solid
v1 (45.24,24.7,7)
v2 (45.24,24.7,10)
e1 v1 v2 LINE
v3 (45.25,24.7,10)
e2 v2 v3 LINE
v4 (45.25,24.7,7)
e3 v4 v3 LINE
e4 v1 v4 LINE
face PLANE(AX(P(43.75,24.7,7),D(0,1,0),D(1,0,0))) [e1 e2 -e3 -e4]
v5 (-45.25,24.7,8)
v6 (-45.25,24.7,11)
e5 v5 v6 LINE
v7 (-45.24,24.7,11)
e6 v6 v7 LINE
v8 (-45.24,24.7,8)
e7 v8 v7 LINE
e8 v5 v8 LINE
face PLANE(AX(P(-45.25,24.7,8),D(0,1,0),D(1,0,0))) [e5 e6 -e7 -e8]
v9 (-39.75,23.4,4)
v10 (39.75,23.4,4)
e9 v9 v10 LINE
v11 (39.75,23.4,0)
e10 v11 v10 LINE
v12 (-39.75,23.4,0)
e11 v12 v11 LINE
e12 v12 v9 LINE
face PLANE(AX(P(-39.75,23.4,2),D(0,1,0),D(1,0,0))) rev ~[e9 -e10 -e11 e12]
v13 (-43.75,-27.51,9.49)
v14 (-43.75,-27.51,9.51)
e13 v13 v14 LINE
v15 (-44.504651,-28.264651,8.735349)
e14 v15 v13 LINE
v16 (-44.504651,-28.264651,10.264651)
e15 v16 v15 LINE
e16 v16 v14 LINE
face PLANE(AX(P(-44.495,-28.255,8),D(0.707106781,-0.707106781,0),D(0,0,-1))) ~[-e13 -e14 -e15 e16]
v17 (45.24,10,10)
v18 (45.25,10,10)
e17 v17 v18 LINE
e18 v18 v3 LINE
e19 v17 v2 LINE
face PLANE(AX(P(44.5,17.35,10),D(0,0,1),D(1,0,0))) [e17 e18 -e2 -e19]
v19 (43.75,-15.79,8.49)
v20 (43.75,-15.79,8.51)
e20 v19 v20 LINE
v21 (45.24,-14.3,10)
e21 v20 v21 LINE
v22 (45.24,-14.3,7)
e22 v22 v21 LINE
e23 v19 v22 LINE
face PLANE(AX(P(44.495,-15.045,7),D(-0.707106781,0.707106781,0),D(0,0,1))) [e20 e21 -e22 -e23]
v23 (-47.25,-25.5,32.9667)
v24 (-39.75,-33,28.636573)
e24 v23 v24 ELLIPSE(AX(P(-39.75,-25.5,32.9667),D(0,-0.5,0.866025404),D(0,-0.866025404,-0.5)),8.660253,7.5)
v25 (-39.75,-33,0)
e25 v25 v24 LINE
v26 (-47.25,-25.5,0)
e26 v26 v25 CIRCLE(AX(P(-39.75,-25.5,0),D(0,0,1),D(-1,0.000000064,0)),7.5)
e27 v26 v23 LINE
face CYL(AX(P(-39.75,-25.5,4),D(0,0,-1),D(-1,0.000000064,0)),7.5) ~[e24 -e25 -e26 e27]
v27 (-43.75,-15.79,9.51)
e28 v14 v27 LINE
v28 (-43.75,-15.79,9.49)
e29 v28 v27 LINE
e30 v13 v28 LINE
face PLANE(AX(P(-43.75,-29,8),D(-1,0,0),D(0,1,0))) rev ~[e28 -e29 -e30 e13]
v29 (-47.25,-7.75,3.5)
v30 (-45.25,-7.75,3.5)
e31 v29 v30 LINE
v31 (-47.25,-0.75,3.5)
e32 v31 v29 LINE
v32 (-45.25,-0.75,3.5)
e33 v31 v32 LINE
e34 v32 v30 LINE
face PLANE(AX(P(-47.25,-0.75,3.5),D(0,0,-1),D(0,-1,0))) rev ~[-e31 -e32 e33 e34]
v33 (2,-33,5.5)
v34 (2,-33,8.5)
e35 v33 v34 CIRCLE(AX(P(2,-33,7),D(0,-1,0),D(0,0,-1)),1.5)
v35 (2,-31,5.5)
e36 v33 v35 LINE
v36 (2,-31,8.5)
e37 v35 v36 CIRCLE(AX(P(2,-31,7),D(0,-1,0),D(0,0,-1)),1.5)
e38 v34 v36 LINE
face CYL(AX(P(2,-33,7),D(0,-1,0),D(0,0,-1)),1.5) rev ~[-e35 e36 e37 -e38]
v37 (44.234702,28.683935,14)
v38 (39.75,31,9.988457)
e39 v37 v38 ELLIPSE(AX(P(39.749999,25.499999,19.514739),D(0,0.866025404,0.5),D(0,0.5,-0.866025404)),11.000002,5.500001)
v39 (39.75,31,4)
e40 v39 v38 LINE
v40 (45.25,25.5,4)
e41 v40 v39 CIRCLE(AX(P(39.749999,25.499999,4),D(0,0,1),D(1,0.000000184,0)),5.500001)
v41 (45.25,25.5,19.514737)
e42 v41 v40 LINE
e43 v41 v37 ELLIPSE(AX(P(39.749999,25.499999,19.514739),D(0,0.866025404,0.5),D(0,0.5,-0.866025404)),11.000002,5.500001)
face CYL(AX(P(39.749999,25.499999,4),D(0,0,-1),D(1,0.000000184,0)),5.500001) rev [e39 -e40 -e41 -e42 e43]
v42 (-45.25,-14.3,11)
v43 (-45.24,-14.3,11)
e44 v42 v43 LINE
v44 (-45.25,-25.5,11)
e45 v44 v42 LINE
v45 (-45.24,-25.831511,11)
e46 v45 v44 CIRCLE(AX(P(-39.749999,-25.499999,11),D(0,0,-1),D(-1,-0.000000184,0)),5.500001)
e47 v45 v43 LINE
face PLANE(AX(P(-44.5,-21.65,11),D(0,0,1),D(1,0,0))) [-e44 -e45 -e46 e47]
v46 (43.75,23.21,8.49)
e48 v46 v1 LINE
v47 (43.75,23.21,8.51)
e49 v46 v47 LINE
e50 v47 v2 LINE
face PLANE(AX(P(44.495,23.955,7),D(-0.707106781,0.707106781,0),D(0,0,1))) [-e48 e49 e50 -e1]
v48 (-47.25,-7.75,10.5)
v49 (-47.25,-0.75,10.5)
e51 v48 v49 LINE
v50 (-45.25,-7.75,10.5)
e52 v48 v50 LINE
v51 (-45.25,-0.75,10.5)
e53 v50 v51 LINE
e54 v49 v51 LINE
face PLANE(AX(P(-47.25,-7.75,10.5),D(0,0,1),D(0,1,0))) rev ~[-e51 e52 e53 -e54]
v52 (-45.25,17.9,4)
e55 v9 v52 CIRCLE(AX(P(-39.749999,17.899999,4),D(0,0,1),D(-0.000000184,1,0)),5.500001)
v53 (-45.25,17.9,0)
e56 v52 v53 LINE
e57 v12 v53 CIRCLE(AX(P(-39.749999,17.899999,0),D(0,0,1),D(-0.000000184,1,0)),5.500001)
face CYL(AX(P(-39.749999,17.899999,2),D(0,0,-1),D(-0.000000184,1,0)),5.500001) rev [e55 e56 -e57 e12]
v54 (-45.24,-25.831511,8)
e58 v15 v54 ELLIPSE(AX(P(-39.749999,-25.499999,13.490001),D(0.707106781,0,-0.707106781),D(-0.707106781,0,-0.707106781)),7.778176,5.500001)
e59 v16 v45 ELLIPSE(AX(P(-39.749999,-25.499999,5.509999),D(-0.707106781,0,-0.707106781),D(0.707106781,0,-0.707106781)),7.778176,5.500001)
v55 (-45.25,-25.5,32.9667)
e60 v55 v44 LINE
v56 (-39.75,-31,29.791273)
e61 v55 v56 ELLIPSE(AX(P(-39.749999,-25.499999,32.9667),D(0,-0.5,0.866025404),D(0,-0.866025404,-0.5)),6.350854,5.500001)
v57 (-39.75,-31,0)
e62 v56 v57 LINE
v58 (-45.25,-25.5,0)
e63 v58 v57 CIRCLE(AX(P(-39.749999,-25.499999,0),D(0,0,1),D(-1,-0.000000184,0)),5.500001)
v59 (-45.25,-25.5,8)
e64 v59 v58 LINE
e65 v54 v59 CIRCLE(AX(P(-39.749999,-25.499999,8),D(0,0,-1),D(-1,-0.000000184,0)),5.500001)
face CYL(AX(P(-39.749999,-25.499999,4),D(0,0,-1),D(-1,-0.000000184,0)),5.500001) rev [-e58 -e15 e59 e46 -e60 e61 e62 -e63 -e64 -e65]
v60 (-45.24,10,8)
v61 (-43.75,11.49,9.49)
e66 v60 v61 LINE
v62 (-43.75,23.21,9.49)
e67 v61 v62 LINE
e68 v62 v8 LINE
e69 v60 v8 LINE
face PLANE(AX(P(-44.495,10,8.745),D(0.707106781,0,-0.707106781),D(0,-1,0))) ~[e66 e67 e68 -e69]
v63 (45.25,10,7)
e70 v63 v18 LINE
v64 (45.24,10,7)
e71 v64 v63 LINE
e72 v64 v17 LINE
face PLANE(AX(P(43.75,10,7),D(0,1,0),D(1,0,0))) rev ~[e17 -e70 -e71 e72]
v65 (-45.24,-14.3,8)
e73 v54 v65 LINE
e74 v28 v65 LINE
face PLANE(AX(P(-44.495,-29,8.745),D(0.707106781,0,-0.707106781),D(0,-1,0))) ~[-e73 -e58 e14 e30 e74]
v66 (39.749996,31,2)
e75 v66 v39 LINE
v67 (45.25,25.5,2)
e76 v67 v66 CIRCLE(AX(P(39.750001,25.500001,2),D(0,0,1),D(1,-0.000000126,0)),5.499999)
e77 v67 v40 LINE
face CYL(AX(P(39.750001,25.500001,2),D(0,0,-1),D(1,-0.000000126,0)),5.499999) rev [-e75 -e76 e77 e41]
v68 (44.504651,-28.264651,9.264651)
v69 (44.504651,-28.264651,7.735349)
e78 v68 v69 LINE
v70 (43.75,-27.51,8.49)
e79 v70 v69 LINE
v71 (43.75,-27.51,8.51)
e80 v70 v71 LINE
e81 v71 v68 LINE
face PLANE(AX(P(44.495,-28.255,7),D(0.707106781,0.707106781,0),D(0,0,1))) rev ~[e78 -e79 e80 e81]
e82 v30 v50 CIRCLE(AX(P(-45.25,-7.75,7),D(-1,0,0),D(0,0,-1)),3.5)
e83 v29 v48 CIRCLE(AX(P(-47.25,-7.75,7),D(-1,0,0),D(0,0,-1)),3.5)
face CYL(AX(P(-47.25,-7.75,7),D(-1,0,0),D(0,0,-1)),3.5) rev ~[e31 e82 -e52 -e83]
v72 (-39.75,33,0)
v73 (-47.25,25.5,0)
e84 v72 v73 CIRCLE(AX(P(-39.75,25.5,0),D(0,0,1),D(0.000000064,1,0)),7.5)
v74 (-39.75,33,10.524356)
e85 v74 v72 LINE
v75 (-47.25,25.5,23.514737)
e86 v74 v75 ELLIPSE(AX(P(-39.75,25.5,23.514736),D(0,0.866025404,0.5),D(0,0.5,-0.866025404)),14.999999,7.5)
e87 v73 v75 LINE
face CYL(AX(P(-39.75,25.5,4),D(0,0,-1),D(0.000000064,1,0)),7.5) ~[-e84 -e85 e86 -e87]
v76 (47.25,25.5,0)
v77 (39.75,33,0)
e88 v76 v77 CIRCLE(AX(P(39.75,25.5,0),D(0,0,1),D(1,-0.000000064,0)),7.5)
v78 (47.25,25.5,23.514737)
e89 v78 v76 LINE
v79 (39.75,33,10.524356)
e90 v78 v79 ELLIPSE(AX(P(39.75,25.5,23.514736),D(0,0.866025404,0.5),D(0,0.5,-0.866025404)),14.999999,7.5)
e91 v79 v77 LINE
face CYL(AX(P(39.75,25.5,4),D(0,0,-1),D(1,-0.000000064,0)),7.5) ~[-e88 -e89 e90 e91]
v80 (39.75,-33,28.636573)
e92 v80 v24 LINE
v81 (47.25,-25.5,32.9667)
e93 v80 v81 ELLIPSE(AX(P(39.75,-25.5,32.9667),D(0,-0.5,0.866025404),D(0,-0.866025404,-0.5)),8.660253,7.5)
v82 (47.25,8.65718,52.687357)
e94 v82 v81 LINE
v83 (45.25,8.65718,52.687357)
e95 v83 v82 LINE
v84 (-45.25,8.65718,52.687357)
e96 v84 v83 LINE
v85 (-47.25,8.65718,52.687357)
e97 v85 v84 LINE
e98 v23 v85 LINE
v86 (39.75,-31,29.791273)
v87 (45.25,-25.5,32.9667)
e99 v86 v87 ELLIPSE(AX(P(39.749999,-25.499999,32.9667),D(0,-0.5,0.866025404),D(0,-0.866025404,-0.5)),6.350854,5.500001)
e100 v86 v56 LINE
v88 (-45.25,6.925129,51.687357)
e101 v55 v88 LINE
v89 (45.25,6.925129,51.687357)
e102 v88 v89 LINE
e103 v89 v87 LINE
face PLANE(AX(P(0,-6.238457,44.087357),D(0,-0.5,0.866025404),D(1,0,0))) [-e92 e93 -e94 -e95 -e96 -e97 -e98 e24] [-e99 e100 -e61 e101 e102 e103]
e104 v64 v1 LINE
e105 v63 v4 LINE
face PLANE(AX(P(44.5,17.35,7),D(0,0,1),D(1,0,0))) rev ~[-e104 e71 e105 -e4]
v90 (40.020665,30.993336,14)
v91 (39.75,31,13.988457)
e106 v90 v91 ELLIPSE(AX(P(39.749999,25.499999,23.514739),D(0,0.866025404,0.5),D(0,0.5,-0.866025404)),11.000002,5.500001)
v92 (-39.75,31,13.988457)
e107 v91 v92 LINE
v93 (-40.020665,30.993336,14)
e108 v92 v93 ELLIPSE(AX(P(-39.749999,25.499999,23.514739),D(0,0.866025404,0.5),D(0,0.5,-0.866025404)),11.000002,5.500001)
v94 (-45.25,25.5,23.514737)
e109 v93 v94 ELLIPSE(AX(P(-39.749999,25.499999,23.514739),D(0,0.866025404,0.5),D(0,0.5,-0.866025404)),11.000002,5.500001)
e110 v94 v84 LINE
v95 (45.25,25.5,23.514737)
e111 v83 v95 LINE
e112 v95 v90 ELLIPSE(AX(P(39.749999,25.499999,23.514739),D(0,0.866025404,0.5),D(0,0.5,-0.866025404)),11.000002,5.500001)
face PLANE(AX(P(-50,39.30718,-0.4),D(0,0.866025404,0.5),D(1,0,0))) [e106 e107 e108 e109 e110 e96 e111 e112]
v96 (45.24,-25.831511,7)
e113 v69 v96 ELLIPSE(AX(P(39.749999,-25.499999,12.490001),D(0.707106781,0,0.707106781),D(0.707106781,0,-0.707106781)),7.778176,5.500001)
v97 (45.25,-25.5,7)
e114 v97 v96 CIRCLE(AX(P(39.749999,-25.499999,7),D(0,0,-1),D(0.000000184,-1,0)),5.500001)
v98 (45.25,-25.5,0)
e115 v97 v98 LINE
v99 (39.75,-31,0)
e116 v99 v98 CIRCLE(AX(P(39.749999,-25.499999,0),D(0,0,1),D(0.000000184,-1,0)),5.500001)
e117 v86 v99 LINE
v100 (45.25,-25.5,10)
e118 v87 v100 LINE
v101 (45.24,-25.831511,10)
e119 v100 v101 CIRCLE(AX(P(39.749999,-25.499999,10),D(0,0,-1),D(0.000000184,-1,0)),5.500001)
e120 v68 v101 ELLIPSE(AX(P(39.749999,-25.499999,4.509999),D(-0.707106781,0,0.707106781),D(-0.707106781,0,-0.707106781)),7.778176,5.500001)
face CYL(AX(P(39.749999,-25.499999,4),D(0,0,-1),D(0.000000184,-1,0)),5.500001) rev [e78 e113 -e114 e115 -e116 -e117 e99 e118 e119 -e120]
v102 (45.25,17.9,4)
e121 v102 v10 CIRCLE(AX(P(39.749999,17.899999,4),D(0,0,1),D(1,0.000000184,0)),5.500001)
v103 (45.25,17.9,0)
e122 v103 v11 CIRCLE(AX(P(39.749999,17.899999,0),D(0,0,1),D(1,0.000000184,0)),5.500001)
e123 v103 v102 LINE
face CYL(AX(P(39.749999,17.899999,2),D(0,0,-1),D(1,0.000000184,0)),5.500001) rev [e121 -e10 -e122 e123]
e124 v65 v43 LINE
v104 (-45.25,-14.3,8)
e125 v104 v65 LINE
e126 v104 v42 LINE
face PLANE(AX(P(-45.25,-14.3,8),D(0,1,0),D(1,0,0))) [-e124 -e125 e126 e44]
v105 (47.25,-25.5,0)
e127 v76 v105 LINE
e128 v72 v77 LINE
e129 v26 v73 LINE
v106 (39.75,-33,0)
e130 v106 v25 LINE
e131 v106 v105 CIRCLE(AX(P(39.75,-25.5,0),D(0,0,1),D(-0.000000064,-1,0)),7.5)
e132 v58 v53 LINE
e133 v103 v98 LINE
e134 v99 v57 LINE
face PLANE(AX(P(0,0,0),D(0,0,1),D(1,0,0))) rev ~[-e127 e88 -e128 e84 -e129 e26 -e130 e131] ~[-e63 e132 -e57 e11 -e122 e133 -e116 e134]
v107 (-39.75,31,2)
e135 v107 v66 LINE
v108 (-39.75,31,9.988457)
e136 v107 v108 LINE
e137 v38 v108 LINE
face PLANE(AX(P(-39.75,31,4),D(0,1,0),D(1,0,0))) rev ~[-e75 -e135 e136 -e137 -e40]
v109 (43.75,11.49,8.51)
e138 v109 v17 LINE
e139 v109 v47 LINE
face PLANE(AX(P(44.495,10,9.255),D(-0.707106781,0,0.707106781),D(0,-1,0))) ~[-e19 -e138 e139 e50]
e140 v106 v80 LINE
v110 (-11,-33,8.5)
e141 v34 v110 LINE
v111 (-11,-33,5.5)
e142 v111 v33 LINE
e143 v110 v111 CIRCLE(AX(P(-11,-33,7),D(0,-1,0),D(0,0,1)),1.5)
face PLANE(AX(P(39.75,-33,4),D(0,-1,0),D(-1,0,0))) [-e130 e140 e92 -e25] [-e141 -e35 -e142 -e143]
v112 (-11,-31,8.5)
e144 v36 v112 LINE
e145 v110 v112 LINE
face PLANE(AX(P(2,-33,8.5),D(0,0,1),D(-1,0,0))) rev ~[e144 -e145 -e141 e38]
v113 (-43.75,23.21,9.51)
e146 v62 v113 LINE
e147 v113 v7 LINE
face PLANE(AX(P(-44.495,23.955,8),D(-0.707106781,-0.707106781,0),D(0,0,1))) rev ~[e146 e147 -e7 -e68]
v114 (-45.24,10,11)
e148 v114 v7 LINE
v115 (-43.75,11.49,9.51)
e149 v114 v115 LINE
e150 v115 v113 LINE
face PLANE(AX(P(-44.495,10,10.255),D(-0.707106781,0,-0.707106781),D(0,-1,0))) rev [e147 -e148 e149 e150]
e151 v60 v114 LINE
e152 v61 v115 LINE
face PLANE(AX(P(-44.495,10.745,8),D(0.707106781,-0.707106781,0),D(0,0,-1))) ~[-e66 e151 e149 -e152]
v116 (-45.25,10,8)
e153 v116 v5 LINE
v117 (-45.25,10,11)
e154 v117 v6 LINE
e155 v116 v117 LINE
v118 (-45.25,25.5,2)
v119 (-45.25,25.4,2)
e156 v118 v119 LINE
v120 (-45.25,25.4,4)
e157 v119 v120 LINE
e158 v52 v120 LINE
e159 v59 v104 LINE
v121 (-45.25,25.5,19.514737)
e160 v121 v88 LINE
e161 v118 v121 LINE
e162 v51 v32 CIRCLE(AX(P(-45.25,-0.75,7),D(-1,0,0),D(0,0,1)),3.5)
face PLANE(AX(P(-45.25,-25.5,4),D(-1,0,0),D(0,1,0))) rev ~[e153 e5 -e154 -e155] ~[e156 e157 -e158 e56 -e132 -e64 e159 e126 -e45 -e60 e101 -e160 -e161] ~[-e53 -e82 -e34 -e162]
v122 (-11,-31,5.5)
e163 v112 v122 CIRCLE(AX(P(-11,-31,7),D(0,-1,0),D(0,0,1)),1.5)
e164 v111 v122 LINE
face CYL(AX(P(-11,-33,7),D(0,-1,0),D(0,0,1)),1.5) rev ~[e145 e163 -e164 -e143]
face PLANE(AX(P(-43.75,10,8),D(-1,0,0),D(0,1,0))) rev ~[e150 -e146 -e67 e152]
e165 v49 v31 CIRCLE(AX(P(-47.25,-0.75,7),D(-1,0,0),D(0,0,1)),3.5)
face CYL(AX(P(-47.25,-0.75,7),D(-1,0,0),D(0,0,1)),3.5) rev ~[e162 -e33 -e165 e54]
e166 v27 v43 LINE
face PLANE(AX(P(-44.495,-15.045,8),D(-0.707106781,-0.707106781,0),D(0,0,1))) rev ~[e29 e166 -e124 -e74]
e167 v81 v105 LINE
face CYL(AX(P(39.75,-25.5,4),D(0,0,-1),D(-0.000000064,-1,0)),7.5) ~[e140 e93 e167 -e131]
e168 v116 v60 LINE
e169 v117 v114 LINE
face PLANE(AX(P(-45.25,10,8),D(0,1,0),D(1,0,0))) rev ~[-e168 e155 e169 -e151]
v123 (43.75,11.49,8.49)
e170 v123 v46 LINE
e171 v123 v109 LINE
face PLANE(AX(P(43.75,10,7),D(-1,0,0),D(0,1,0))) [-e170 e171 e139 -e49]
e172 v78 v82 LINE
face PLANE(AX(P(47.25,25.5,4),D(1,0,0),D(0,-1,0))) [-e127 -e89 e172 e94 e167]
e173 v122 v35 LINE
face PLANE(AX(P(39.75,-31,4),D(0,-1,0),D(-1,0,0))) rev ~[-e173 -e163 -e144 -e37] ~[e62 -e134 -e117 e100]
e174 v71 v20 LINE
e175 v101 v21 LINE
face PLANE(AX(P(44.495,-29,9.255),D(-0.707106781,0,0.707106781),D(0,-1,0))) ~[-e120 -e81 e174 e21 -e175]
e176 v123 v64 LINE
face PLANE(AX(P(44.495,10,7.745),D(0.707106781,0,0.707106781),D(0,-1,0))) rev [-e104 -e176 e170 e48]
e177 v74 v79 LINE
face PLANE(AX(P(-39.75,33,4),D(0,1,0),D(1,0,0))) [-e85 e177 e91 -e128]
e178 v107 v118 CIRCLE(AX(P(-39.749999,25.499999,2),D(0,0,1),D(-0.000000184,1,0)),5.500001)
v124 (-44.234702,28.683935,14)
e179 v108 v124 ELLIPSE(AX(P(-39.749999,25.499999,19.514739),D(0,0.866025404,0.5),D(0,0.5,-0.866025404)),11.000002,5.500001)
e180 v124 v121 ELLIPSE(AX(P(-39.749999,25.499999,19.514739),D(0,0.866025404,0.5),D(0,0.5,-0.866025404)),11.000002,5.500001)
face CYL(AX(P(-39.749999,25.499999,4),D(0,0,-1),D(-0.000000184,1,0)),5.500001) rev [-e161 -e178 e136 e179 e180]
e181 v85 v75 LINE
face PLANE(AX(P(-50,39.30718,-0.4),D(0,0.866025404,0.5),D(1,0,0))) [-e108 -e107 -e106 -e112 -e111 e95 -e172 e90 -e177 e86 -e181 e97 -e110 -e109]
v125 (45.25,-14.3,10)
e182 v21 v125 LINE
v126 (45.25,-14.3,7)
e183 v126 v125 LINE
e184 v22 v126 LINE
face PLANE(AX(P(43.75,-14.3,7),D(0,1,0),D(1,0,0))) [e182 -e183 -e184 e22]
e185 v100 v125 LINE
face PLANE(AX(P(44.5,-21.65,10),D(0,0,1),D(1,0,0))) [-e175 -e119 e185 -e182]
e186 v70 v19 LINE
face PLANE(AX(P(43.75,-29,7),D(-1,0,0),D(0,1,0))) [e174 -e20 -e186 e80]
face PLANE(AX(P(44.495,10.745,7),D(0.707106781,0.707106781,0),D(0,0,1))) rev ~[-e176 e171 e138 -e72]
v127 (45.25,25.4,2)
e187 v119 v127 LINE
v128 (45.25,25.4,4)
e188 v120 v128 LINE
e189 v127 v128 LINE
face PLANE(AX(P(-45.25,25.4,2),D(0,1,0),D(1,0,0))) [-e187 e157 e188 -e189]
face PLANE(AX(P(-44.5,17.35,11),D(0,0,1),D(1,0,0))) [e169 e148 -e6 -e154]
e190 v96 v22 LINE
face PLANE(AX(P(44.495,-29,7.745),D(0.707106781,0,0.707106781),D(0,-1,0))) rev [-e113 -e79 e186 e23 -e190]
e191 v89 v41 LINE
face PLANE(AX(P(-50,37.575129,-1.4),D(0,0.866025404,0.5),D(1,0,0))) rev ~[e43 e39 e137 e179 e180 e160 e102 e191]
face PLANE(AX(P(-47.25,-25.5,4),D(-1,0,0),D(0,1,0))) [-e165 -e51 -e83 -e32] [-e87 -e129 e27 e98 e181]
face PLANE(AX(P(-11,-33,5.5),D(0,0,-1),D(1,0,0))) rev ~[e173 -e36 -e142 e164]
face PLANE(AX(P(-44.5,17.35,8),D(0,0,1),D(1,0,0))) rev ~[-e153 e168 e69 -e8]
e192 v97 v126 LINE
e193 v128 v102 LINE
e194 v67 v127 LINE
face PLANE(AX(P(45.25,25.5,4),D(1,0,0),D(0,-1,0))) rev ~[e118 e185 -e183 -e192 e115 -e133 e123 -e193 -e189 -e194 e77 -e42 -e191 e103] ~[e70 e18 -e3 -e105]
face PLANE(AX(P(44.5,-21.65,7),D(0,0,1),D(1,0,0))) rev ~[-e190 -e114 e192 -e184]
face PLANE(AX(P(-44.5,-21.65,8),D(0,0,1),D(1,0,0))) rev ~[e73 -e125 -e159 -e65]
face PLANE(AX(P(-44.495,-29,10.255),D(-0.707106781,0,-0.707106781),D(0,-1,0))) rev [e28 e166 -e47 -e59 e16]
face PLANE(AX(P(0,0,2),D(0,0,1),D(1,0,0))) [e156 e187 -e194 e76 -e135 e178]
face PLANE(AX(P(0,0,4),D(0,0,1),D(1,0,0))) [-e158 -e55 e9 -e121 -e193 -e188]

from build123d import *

# Parameters (mm, degrees)
BOX004_W               = 1.5
BOX004_H               = 14.7
BOX004_DEPTH           = 3
CHAMFER001_SIZE        = 1.49
BOX005_W               = 1.5
BOX005_H               = 14.7
BOX005_DEPTH           = 3
CHAMFER002_SIZE        = 1.49
BOX006_W               = 1.5
BOX006_H               = 14.7
BOX006_DEPTH           = 3
CHAMFER003_SIZE        = 1.49
EXTRUDE006_DEPTH       = 3
EXTRUDE005_DEPTH       = 3
BOX001_W               = 100
BOX001_H               = 100
BOX001_DEPTH           = 100
BOX001_PLACEMENT_ANGLE = 30
BOX_W                  = 100
BOX_H                  = 100
BOX_DEPTH              = 100
BOX_PLACEMENT_ANGLE    = 30
EXTRUDE_DEPTH          = 2
EXTRUDE001_DEPTH       = 2
EXTRUDE002_DEPTH       = 10
EXTRUDE003_DEPTH       = 52
EXTRUDE004_DEPTH       = 56
BOX002_W               = 100
BOX002_H               = 2
BOX002_DEPTH           = 100
BOX002_PLACEMENT_ANGLE = 30
BOX003_W               = 1.5
BOX003_H               = 14.7
BOX003_DEPTH           = 3
CHAMFER_SIZE           = 1.49


with BuildPart() as chamfer001:
    # Box004 → Box004 (new body)
    with BuildSketch(Plane(origin=(-45.25, -29, 8), x_dir=(1, 0, 0), z_dir=(0, 0, 1))):
        with Locations((0.75, 7.35)):
            Rectangle(BOX004_W, BOX004_H)
    extrude(amount=BOX004_DEPTH)

    # Chamfer001
    chamfer001_edges = [chamfer001.edges().sort_by_distance(p)[0] for p in [
        (-43.75, -29, 9.5),
        (-43.75, -21.65, 11),
        (-43.75, -14.3, 9.5),
        (-43.75, -21.65, 8),
    ]]
    chamfer(chamfer001_edges, length=CHAMFER001_SIZE)


with BuildPart() as chamfer002:
    # Box005 → Box005 (new body)
    with BuildSketch(Plane(origin=(43.75, 10, 7), x_dir=(1, 0, 0), z_dir=(0, 0, 1))):
        with Locations((0.75, 7.35)):
            Rectangle(BOX005_W, BOX005_H)
    extrude(amount=BOX005_DEPTH)

    # Chamfer002
    chamfer002_edges = [chamfer002.edges().sort_by_distance(p)[0] for p in [
        (43.75, 10, 8.5),
        (43.75, 17.35, 10),
        (43.75, 24.7, 8.5),
        (43.75, 17.35, 7),
    ]]
    chamfer(chamfer002_edges, length=CHAMFER002_SIZE)


with BuildPart() as chamfer003:
    # Box006 → Box006 (new body)
    with BuildSketch(Plane(origin=(-45.25, 10, 8), x_dir=(1, 0, 0), z_dir=(0, 0, 1))):
        with Locations((0.75, 7.35)):
            Rectangle(BOX006_W, BOX006_H)
    extrude(amount=BOX006_DEPTH)

    # Chamfer003
    chamfer003_edges = [chamfer003.edges().sort_by_distance(p)[0] for p in [
        (-43.75, 10, 9.5),
        (-43.75, 17.35, 11),
        (-43.75, 24.7, 9.5),
        (-43.75, 17.35, 8),
    ]]
    chamfer(chamfer003_edges, length=CHAMFER003_SIZE)


with BuildPart() as extrude006:
    # Sketch007 (on Face25 of Cut001) → Extrude006 (new body)
    with BuildSketch(Plane(origin=(-47.25, 0, 0), x_dir=(0, -1, 0), z_dir=(-1, 0, 0))):
        with BuildLine():
            ThreePointArc((0.75, 10.5), (-2.75, 7), (0.75, 3.5))
            Line((0.75, 3.5), (7.75, 3.5))
            ThreePointArc((7.75, 3.5), (11.25, 7), (7.75, 10.5))
            Line((7.75, 10.5), (0.75, 10.5))
        make_face()
    extrude(amount=-EXTRUDE006_DEPTH)


with BuildPart() as extrude005:
    # Sketch006 (on Face43 of Cut001) → Extrude005 (new body)
    with BuildSketch(Plane.XZ.offset(33)):
        with BuildLine():
            ThreePointArc((2, 5.5), (3.5, 7), (2, 8.5))
            Line((2, 8.5), (-11, 8.5))
            ThreePointArc((-11, 8.5), (-12.5, 7), (-11, 5.5))
            Line((-11, 5.5), (2, 5.5))
        make_face()
    extrude(amount=-EXTRUDE005_DEPTH)


with BuildPart() as cube001:
    # Box001 → Box001 (new body)
    with BuildSketch(Plane.XY):
        with Locations((50, 50)):
            Rectangle(BOX001_W, BOX001_H)
    extrude(amount=BOX001_DEPTH)


with BuildPart() as cube001_1:
    # Box001 placement: moved
    add(cube001.part.moved(Location((-50, -49.539727, 19.087357))).rotate(Axis((-50, -49.539727, 19.087357), (1, 0, 0)), BOX001_PLACEMENT_ANGLE))


with BuildPart() as cube:
    # Box → Box (new body)
    with BuildSketch(Plane.XY):
        with Locations((50, 50)):
            Rectangle(BOX_W, BOX_H)
    extrude(amount=BOX_DEPTH)


with BuildPart() as cube_1:
    # Box placement: moved
    add(cube.part.moved(Location((-50, 39.30718, -0.4))).rotate(Axis((-50, 39.30718, -0.4), (1, 0, 0)), BOX_PLACEMENT_ANGLE))


with BuildPart() as extrude_body:
    # Sketch001 → Extrude (new body)
    with BuildSketch(Plane.XY):
        with BuildLine():
            ThreePointArc((-39.75, 33), (-45.053301, 30.803301), (-47.25, 25.5))
            Line((-47.25, -25.5), (-47.25, 25.5))
            ThreePointArc((-47.25, -25.5), (-45.053301, -30.803301), (-39.75, -33))
            Line((39.75, -33), (-39.75, -33))
            ThreePointArc((39.75, -33), (45.053301, -30.803301), (47.25, -25.5))
            Line((47.25, 25.5), (47.25, -25.5))
            ThreePointArc((47.25, 25.5), (45.053301, 30.803301), (39.75, 33))
            Line((-39.75, 33), (39.75, 33))
        make_face()
        with BuildLine():
            ThreePointArc((-39.75, 23.4), (-43.639087, 21.789087), (-45.25, 17.9))
            Line((-45.25, -25.5), (-45.25, 17.9))
            ThreePointArc((-45.25, -25.5), (-43.639087, -29.389087), (-39.75, -31))
            Line((39.75, -31), (-39.75, -31))
            ThreePointArc((39.75, -31), (43.639087, -29.389087), (45.25, -25.5))
            Line((45.25, 17.9), (45.25, -25.5))
            ThreePointArc((45.25, 17.9), (43.639087, 21.789087), (39.75, 23.4))
            Line((-39.75, 23.4), (39.75, 23.4))
        make_face(mode=Mode.SUBTRACT)
    extrude(amount=EXTRUDE_DEPTH)


with BuildPart() as extrude_2mm:
    # Sketch002 → Extrude001 (new body)
    with BuildSketch(Plane.XY.offset(2)):
        with BuildLine():
            ThreePointArc((-39.75, 33), (-45.053301, 30.803301), (-47.25, 25.5))
            Line((-47.25, -25.5), (-47.25, 25.5))
            ThreePointArc((-47.25, -25.5), (-45.053301, -30.803301), (-39.75, -33))
            Line((39.75, -33), (-39.75, -33))
            ThreePointArc((39.75, -33), (45.053301, -30.803301), (47.25, -25.5))
            Line((47.25, 25.5), (47.25, -25.5))
            ThreePointArc((47.25, 25.5), (45.053301, 30.803301), (39.75, 33))
            Line((-39.75, 33), (39.75, 33))
        make_face()
        with BuildLine():
            ThreePointArc((-39.75, 23.4), (-43.639087, 21.789087), (-45.25, 17.9))
            Line((-45.25, -25.5), (-45.25, 17.9))
            ThreePointArc((-45.25, -25.5), (-43.639087, -29.389087), (-39.75, -31))
            Line((39.75, -31), (-39.75, -31))
            ThreePointArc((39.75, -31), (43.639087, -29.389087), (45.25, -25.5))
            Line((45.25, 17.9), (45.25, -25.5))
            ThreePointArc((45.25, 17.9), (43.639087, 21.789087), (39.75, 23.4))
            Line((-39.75, 23.4), (39.75, 23.4))
        make_face(mode=Mode.SUBTRACT)
        with BuildLine():
            ThreePointArc((-39.75, 31), (-43.639087, 29.389087), (-45.25, 25.5))
            Line((-45.25, 25.5), (-45.25, 25.4))
            Line((-45.25, 25.4), (45.25, 25.4))
            Line((45.25, 25.5), (45.25, 25.4))
            ThreePointArc((45.25, 25.5), (43.639086, 29.389089), (39.749996, 31))
            Line((-39.75, 31), (39.749996, 31))
        make_face(mode=Mode.SUBTRACT)
    extrude(amount=EXTRUDE001_DEPTH)


with BuildPart() as extrude_4mm:
    # Sketch003 → Extrude002 (new body)
    with BuildSketch(Plane.XY.offset(4)):
        with BuildLine():
            ThreePointArc((-39.75, 33), (-45.053301, 30.803301), (-47.25, 25.5))
            Line((-47.25, -25.5), (-47.25, 25.5))
            ThreePointArc((-47.25, -25.5), (-45.053301, -30.803301), (-39.75, -33))
            Line((39.75, -33), (-39.75, -33))
            ThreePointArc((39.75, -33), (45.053301, -30.803301), (47.25, -25.5))
            Line((47.25, 25.5), (47.25, -25.5))
            ThreePointArc((47.25, 25.5), (45.053301, 30.803301), (39.75, 33))
            Line((-39.75, 33), (39.75, 33))
        make_face()
        with BuildLine():
            ThreePointArc((-39.75, 31), (-43.639087, 29.389087), (-45.25, 25.5))
            Line((-45.25, -25.5), (-45.25, 25.5))
            ThreePointArc((-45.25, -25.5), (-43.639087, -29.389087), (-39.75, -31))
            Line((39.75, -31), (-39.75, -31))
            ThreePointArc((39.75, -31), (43.639087, -29.389087), (45.25, -25.5))
            Line((45.25, 25.5), (45.25, -25.5))
            ThreePointArc((45.25, 25.5), (43.639087, 29.389087), (39.75, 31))
            Line((-39.75, 31), (39.75, 31))
        make_face(mode=Mode.SUBTRACT)
    extrude(amount=EXTRUDE002_DEPTH)


with BuildPart() as extrude_6mm:
    # Sketch003 → Extrude003 (new body)
    with BuildSketch(Plane.XY.offset(4)):
        with BuildLine():
            ThreePointArc((-39.75, 33), (-45.053301, 30.803301), (-47.25, 25.5))
            Line((-47.25, -25.5), (-47.25, 25.5))
            ThreePointArc((-47.25, -25.5), (-45.053301, -30.803301), (-39.75, -33))
            Line((39.75, -33), (-39.75, -33))
            ThreePointArc((39.75, -33), (45.053301, -30.803301), (47.25, -25.5))
            Line((47.25, 25.5), (47.25, -25.5))
            ThreePointArc((47.25, 25.5), (45.053301, 30.803301), (39.75, 33))
            Line((-39.75, 33), (39.75, 33))
        make_face()
        with BuildLine():
            ThreePointArc((-39.75, 31), (-43.639087, 29.389087), (-45.25, 25.5))
            Line((-45.25, -25.5), (-45.25, 25.5))
            ThreePointArc((-45.25, -25.5), (-43.639087, -29.389087), (-39.75, -31))
            Line((39.75, -31), (-39.75, -31))
            ThreePointArc((39.75, -31), (43.639087, -29.389087), (45.25, -25.5))
            Line((45.25, 25.5), (45.25, -25.5))
            ThreePointArc((45.25, 25.5), (43.639087, 29.389087), (39.75, 31))
            Line((-39.75, 31), (39.75, 31))
        make_face(mode=Mode.SUBTRACT)
    extrude(amount=EXTRUDE003_DEPTH)


with BuildPart() as extrude004:
    # Sketch004 → Extrude004 (new body)
    with BuildSketch(Plane.XY):
        with BuildLine():
            ThreePointArc((-39.75, 33), (-45.053301, 30.803301), (-47.25, 25.5))
            Line((-47.25, -25.5), (-47.25, 25.5))
            ThreePointArc((-47.25, -25.5), (-45.053301, -30.803301), (-39.75, -33))
            Line((39.75, -33), (-39.75, -33))
            ThreePointArc((39.75, -33), (45.053301, -30.803301), (47.25, -25.5))
            Line((47.25, 25.5), (47.25, -25.5))
            ThreePointArc((47.25, 25.5), (45.053301, 30.803301), (39.75, 33))
            Line((-39.75, 33), (39.75, 33))
        make_face()
    extrude(amount=EXTRUDE004_DEPTH)


with BuildPart() as cut003:
    # Box002 → Box002 (new body)
    with BuildSketch(Plane.XY):
        with Locations((50, 1)):
            Rectangle(BOX002_W, BOX002_H)
    extrude(amount=BOX002_DEPTH)


with BuildPart() as cut003_1:
    # Box002 placement: moved
    add(cut003.part.moved(Location((-50, 37.575129, -1.4))).rotate(Axis((-50, 37.575129, -1.4), (1, 0, 0)), BOX002_PLACEMENT_ANGLE))

    # Common: intersect Extrude004
    add(extrude004.part, mode=Mode.INTERSECT)

    # Fusion: union Extrude body, Extrude_2mm, Extrude_4mm, Extrude_6mm
    add(extrude_body.part)
    add(extrude_2mm.part)
    add(extrude_4mm.part)
    add(extrude_6mm.part)

    # Cut: cut Cube
    add(cube_1.part, mode=Mode.SUBTRACT)

    # Cut001: cut Cube001
    add(cube001_1.part, mode=Mode.SUBTRACT)

    # Cut002: cut Extrude005
    add(extrude005.part, mode=Mode.SUBTRACT)

    # Cut003: cut Extrude006
    add(extrude006.part, mode=Mode.SUBTRACT)


with BuildPart() as main:
    # Box003 → Box003 (new body)
    with BuildSketch(Plane(origin=(43.75, -29, 7), x_dir=(1, 0, 0), z_dir=(0, 0, 1))):
        with Locations((0.75, 7.35)):
            Rectangle(BOX003_W, BOX003_H)
    extrude(amount=BOX003_DEPTH)

    # Chamfer
    chamfer_edges = [main.edges().sort_by_distance(p)[0] for p in [
        (43.75, -29, 8.5),
        (43.75, -21.65, 10),
        (43.75, -14.3, 8.5),
        (43.75, -21.65, 7),
    ]]
    chamfer(chamfer_edges, length=CHAMFER_SIZE)

    # Connect: union Chamfer001, Chamfer002, Chamfer003, Cut003
    add(chamfer001.part)
    add(chamfer002.part)
    add(chamfer003.part)
    add(cut003_1.part)


solid = main.part
